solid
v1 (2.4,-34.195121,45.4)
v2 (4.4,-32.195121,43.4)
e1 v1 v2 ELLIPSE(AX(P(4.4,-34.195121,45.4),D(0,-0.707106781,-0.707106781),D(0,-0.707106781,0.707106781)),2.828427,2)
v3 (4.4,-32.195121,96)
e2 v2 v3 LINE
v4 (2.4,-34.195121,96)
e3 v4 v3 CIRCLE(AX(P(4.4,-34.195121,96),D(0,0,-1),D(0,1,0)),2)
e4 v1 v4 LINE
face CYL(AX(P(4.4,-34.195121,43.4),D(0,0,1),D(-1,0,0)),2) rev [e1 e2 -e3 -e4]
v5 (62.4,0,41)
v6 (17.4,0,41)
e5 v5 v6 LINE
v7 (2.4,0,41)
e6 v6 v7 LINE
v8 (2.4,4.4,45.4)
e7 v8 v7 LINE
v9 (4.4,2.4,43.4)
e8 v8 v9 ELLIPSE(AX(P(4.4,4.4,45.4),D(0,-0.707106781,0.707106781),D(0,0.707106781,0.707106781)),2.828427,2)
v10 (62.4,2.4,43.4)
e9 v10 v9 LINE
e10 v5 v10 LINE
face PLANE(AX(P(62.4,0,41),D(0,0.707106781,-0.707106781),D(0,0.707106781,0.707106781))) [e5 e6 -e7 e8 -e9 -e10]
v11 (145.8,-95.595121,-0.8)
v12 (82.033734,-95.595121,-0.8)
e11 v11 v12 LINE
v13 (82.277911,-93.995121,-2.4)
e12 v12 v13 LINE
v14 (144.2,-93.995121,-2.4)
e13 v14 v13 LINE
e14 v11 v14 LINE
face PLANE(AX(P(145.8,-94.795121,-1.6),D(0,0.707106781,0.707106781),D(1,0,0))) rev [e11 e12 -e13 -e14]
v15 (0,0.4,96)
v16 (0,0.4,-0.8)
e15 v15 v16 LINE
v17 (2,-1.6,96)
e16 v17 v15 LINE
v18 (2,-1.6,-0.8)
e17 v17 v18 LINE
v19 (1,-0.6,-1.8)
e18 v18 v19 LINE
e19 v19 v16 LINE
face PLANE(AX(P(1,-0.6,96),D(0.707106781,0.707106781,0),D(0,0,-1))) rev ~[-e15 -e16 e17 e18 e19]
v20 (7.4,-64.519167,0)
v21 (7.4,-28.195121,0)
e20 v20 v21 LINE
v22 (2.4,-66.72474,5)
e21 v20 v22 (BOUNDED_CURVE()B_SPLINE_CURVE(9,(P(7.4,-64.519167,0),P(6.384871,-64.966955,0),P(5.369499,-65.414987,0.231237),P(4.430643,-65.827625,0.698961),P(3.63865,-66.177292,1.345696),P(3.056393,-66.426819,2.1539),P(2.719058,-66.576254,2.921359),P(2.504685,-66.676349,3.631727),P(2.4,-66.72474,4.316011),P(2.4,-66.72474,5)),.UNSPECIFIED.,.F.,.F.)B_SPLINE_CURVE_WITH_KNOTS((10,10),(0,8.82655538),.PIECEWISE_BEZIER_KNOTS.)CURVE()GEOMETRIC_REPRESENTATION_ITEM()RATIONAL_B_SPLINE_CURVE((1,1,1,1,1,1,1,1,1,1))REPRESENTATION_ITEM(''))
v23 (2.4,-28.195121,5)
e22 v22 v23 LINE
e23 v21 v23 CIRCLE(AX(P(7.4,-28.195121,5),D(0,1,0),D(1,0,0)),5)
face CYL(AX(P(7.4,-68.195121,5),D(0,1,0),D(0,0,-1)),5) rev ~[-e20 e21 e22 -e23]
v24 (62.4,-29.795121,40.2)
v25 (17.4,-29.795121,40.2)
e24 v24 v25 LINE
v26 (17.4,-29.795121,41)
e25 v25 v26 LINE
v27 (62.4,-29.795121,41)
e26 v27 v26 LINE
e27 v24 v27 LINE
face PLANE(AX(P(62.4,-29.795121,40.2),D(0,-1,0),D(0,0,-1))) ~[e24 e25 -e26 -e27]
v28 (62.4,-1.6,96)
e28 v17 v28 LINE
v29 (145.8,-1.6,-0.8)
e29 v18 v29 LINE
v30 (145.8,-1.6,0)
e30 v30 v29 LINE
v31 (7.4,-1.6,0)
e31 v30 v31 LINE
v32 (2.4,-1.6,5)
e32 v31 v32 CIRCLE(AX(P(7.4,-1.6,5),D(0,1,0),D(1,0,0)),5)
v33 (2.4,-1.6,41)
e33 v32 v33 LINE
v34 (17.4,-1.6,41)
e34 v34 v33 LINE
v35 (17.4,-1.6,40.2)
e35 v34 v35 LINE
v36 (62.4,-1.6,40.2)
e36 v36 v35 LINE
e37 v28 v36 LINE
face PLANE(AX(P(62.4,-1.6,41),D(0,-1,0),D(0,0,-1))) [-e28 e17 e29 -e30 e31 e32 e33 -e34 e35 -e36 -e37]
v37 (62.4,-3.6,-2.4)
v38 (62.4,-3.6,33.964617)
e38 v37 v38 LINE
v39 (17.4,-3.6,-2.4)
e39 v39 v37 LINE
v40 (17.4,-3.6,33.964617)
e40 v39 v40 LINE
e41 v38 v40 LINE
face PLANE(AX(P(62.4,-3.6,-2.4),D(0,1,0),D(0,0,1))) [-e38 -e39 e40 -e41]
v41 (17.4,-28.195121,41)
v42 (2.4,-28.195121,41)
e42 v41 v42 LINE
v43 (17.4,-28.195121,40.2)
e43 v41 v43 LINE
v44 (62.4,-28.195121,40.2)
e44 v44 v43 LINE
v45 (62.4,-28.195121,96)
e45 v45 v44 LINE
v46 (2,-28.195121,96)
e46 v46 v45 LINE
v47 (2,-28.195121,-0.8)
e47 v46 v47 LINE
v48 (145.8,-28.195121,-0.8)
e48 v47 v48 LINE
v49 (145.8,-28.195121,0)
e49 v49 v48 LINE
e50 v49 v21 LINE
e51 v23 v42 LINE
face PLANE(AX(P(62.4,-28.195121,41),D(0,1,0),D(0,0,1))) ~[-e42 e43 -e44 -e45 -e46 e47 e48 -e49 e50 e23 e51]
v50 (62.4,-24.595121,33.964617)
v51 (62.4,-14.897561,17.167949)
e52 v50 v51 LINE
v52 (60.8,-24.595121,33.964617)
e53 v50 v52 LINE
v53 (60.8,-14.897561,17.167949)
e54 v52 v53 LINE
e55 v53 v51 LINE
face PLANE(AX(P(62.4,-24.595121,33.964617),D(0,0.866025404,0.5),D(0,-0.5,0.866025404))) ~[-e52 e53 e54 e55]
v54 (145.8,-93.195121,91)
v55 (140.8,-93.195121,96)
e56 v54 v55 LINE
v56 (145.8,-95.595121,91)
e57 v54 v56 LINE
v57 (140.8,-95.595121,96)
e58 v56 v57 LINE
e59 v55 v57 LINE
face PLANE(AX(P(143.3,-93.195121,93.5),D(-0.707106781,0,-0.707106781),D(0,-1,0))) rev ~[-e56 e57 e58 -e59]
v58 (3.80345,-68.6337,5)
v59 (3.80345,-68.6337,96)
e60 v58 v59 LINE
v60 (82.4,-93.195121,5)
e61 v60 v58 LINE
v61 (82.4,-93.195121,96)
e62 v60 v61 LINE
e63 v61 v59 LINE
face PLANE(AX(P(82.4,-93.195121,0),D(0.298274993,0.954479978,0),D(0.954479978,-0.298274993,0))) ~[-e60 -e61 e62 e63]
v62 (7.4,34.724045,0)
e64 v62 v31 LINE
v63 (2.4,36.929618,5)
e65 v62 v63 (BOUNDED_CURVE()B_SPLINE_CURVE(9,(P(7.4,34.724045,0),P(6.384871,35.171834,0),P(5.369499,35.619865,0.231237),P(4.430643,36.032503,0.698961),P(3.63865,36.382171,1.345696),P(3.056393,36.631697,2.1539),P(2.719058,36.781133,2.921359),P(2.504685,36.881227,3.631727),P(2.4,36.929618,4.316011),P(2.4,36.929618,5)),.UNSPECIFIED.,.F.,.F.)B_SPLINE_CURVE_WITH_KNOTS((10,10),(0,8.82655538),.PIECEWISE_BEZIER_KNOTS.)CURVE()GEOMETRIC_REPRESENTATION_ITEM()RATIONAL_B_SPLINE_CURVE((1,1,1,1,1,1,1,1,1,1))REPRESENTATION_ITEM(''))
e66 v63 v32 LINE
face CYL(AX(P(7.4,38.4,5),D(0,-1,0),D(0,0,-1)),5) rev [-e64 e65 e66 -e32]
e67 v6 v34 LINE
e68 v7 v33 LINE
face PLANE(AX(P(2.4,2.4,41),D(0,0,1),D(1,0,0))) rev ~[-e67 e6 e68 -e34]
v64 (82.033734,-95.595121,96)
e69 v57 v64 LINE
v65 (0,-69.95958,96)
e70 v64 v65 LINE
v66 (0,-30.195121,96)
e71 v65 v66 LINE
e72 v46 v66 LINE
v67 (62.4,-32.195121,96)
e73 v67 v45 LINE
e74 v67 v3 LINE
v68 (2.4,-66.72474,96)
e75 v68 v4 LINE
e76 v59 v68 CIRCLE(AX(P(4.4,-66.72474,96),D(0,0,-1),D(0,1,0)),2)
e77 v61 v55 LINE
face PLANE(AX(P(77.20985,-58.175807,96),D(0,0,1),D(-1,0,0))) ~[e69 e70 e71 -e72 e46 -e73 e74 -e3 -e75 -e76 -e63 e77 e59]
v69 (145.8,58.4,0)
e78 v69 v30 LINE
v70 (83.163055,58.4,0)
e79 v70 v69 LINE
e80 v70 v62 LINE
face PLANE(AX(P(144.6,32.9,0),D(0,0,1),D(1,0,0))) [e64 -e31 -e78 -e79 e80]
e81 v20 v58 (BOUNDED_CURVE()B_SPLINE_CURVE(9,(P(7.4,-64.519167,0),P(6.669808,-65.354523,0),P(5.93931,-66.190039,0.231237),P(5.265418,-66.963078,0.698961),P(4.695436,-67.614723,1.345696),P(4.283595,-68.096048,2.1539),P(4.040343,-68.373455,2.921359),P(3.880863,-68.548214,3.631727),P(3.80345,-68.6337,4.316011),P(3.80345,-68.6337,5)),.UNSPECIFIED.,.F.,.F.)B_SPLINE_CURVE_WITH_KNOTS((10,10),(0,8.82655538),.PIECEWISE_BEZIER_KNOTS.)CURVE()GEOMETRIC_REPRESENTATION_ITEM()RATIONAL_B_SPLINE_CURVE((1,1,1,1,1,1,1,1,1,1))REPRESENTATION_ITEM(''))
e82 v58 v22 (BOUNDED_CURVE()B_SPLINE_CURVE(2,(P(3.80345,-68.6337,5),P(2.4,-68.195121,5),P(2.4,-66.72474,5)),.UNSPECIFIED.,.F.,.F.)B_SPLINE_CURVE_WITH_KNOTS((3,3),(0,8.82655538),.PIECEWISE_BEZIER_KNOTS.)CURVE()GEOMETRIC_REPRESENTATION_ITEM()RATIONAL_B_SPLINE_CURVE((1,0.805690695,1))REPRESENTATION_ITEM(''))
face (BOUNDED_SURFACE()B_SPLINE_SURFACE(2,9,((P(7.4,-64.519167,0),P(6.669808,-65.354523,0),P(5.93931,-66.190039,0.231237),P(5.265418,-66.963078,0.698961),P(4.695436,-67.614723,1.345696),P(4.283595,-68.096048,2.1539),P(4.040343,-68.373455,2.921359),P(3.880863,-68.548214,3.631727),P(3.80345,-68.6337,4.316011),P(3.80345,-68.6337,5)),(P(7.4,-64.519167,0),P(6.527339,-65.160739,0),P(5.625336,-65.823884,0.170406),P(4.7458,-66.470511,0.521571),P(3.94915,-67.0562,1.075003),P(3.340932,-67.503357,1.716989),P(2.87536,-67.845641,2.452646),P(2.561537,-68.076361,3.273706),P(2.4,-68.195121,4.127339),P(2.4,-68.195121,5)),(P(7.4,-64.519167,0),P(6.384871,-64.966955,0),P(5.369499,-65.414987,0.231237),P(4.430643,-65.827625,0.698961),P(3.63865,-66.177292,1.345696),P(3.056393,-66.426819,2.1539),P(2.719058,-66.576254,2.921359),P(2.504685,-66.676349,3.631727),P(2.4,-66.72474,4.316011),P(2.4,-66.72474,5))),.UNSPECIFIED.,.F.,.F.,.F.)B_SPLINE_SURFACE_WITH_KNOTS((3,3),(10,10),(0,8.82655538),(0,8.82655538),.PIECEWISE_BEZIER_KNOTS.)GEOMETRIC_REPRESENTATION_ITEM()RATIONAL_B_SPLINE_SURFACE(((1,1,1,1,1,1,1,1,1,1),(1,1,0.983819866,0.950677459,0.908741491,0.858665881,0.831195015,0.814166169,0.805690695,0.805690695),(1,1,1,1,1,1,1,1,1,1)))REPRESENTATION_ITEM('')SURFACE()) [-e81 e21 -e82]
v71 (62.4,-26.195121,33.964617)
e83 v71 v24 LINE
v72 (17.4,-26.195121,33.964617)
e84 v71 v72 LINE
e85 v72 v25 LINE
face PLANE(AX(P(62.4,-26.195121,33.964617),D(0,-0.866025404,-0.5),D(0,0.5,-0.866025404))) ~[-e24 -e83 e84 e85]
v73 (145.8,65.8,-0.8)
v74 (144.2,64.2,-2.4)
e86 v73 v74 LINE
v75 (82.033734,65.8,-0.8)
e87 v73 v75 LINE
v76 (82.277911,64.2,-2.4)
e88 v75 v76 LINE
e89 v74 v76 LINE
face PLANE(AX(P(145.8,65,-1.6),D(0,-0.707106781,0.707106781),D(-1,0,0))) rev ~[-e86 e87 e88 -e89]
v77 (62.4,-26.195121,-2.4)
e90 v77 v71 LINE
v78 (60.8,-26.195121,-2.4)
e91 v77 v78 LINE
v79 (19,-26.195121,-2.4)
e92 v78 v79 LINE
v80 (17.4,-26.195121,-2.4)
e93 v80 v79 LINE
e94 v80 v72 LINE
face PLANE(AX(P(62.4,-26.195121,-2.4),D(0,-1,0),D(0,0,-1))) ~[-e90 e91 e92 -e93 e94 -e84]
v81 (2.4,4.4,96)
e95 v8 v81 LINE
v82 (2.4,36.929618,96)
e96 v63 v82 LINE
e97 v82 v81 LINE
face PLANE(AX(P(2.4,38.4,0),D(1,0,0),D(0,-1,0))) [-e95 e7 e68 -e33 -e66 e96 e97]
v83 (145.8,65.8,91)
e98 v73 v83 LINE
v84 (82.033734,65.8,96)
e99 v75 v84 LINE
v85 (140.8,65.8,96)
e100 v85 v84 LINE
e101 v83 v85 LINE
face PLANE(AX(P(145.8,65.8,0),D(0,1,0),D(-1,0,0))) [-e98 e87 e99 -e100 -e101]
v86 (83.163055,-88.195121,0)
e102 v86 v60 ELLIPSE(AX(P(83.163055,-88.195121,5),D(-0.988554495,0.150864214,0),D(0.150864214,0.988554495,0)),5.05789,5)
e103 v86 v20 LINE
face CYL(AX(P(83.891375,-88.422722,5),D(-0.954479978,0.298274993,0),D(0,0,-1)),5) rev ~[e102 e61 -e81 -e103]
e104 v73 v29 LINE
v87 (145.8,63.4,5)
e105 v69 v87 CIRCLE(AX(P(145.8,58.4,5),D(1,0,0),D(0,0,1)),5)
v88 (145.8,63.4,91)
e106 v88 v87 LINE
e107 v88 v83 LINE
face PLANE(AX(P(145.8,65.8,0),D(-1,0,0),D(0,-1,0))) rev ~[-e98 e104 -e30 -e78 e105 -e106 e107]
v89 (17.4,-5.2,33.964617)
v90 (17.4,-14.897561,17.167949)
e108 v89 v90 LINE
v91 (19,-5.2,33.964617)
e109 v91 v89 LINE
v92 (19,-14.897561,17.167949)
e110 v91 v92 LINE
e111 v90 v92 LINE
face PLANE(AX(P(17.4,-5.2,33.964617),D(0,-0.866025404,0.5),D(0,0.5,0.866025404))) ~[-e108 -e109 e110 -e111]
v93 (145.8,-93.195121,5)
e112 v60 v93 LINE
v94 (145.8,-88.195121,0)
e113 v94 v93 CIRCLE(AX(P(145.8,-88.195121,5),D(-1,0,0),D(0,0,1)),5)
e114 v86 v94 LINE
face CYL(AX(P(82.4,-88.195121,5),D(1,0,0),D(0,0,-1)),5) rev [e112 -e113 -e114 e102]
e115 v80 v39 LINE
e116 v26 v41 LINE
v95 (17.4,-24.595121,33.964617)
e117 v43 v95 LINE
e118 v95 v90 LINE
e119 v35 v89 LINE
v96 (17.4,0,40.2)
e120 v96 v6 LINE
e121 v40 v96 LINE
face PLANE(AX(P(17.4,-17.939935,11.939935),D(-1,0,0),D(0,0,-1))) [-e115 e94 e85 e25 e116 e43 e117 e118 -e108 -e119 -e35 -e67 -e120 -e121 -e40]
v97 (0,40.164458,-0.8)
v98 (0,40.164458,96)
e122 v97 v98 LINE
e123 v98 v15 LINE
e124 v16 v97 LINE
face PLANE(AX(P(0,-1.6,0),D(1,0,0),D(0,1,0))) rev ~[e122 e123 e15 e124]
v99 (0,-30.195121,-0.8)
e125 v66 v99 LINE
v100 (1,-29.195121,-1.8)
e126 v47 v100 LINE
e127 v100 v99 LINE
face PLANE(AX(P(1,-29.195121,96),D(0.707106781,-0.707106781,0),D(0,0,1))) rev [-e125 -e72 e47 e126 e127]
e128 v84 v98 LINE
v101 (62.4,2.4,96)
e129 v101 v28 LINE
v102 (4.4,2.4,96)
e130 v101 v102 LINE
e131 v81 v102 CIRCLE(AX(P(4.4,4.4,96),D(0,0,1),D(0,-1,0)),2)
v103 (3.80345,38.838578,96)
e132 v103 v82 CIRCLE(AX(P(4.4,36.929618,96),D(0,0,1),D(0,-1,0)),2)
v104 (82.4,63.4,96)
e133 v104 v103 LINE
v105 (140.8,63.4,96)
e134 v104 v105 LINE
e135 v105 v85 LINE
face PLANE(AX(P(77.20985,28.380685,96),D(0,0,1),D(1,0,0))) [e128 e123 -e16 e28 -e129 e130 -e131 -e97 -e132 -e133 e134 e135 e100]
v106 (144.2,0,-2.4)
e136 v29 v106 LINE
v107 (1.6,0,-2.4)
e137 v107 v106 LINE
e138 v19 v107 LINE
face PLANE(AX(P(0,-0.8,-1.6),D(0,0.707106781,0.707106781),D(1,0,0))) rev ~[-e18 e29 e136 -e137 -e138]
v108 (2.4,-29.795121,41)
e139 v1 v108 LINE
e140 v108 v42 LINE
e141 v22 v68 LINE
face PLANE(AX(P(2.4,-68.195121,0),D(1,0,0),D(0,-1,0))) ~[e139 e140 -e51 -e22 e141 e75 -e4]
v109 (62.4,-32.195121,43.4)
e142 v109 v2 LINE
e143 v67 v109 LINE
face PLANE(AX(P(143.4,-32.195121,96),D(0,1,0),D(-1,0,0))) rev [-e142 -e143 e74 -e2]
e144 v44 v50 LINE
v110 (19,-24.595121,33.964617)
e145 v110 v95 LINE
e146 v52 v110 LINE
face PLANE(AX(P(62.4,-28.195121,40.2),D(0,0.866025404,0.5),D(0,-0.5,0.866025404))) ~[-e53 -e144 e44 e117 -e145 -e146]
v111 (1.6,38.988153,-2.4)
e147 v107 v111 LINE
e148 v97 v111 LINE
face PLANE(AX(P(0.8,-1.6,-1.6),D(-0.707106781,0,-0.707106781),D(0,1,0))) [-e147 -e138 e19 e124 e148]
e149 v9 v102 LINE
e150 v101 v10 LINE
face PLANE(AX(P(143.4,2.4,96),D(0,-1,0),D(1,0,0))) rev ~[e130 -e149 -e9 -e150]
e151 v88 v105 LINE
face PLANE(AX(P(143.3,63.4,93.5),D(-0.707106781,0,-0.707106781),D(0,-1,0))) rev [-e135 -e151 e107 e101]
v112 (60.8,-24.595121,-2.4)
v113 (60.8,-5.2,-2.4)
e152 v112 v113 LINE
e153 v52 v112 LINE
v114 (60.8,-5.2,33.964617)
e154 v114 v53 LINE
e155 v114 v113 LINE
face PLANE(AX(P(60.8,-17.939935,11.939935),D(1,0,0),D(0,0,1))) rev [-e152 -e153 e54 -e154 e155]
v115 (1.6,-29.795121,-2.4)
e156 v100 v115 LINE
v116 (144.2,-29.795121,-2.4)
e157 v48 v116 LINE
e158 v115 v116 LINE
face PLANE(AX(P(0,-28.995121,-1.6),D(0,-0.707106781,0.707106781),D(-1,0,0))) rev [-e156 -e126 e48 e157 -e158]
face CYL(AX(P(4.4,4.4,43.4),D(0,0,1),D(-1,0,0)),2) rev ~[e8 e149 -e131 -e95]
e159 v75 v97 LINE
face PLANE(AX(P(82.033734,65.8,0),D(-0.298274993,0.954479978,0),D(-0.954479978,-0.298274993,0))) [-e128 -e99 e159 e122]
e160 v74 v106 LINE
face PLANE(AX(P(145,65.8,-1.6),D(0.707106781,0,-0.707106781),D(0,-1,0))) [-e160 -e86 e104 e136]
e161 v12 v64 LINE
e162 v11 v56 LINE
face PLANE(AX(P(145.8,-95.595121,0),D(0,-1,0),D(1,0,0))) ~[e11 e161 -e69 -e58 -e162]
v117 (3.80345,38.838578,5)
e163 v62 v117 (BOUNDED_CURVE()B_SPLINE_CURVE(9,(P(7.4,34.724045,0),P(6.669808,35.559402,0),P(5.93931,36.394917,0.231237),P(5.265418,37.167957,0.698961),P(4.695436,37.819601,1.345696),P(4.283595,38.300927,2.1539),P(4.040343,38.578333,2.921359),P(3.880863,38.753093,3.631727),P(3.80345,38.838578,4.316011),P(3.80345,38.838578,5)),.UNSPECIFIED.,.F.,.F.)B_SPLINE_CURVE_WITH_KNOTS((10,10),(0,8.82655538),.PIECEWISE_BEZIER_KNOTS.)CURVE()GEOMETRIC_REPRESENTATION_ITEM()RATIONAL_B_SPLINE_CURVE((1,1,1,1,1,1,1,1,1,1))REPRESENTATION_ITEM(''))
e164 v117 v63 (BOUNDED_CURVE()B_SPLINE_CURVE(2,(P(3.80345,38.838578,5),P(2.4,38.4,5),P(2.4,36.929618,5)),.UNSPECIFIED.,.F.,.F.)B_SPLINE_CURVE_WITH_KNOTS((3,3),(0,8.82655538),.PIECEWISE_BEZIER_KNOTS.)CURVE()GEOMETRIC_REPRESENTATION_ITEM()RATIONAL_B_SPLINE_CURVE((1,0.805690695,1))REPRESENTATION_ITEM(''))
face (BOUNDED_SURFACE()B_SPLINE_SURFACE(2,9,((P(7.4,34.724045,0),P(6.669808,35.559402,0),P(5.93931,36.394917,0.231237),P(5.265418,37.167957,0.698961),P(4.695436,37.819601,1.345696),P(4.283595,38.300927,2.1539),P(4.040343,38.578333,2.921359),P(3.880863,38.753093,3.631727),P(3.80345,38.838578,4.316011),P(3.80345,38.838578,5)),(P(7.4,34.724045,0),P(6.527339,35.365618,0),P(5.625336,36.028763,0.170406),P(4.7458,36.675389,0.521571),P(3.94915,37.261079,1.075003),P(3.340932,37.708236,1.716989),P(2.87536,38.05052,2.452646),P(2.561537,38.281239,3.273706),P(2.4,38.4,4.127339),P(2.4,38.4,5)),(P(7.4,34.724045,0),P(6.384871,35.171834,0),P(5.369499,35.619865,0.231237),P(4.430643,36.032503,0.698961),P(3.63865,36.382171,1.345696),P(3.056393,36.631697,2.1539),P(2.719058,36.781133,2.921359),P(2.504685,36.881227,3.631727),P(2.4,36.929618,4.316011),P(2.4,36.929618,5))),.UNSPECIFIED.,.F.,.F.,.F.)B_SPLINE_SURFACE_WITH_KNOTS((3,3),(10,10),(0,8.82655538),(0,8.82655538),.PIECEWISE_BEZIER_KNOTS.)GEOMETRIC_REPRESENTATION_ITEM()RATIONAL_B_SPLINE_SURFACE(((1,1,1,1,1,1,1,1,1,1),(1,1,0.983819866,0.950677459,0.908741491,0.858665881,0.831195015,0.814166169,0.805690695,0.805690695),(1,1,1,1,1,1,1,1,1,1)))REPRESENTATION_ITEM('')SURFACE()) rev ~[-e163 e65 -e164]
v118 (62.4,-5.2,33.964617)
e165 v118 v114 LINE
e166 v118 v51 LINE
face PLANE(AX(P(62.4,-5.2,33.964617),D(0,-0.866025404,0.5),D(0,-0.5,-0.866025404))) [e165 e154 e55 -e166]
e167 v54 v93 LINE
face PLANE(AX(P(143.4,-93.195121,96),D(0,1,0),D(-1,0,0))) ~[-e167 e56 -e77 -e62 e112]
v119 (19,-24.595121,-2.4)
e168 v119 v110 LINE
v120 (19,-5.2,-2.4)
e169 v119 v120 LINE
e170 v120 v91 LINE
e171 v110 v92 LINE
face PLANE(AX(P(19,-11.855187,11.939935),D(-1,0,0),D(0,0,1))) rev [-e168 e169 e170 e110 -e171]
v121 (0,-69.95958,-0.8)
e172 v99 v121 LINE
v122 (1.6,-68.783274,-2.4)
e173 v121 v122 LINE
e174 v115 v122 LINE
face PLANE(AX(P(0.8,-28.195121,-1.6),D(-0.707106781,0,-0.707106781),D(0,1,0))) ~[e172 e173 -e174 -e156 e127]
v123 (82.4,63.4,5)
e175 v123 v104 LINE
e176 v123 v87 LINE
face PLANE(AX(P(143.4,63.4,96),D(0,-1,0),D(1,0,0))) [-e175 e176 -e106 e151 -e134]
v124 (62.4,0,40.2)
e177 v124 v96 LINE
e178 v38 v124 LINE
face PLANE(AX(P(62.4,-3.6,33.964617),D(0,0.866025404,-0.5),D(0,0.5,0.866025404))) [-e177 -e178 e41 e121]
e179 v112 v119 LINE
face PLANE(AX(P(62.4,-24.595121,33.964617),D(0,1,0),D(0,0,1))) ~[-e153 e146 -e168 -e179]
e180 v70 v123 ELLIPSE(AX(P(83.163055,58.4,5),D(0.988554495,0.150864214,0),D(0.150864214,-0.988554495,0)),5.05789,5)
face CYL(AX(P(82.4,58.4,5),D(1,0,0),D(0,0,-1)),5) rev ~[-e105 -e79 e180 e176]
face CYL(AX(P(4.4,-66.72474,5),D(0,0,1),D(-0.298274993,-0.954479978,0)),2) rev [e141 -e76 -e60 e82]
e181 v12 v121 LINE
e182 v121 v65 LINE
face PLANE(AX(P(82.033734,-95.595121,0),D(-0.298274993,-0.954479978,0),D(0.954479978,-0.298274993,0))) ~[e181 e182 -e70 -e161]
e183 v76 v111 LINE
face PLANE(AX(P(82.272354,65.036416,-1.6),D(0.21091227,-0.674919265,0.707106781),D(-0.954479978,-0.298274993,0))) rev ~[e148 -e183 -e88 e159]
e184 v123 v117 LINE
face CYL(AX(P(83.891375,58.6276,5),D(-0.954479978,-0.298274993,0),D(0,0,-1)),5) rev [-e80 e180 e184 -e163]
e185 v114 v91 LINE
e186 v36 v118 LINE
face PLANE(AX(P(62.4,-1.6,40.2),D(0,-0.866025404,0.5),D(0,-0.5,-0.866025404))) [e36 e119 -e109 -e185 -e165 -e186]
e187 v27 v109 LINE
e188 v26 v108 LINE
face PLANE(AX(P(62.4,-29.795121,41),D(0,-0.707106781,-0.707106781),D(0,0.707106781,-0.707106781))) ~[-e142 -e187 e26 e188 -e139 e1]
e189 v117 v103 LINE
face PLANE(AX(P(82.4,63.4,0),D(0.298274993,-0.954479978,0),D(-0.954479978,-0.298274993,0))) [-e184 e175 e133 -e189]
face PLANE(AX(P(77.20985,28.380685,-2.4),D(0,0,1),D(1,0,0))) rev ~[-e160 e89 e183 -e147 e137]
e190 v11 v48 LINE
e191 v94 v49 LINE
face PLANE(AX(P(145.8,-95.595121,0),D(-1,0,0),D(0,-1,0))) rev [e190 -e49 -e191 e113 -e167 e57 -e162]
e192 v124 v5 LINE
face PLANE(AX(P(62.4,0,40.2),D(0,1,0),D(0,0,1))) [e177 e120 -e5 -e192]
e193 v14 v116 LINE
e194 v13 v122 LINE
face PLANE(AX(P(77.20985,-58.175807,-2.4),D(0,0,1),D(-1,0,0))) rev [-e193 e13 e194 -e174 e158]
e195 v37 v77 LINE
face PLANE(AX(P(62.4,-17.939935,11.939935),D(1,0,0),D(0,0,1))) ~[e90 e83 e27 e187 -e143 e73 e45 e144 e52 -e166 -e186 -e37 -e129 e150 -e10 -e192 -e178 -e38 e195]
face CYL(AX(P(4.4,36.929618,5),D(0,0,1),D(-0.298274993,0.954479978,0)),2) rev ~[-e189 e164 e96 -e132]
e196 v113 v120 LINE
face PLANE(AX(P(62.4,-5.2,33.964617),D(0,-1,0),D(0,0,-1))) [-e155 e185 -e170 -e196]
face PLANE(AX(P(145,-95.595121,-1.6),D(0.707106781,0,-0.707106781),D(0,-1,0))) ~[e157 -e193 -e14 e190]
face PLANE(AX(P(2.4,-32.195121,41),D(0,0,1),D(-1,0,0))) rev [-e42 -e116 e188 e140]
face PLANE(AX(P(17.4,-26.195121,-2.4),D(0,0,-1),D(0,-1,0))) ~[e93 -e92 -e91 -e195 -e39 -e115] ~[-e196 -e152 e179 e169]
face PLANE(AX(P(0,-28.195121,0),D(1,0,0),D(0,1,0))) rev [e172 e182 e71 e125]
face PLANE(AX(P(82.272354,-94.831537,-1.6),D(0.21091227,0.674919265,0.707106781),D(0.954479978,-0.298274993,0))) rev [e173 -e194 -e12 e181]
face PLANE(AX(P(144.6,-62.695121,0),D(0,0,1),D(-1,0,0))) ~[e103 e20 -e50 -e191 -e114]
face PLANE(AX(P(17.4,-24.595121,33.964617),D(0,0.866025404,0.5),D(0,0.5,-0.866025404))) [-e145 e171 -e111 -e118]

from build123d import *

# Parameters (mm, degrees)
BOSS_EXTRUDE1_DEPTH = 96
BOSS_EXTRUDE2_DEPTH = 2.4
SKETCH3_W           = 2.4
SKETCH3_H           = 61
CUT_EXTRUDE1_DEPTH  = 96
SKETCH4_W           = 143.4
SKETCH4_H           = 41
CUT_EXTRUDE2_DEPTH  = 5
SKETCH9_W           = 83.4
SKETCH9_H           = 55
CUT_EXTRUDE4_DEPTH  = 5
CUT_EXTRUDE3_DEPTH  = 60
BOSS_EXTRUDE3_DEPTH = 45
BOSS_EXTRUDE4_DEPTH = 1.6
CHAMFER1_SIZE       = 5
FILLET1_R           = 2
FILLET3_R           = 5
FILLET4_R           = 2
CHAMFER2_SIZE       = 1.6
CHAMFER3_SIZE       = 2


with BuildPart() as part:
    # Sketch1 → Boss-Extrude1 (new body)
    with BuildSketch(Plane.XY):
        Polygon((145.8, 0), (145.8, 65.8), (82.033733785, 65.8), (0, 40.164458192), (0, 0), (0, -1.6), (145.8, -1.6), align=None)
        Polygon((2.4, 38.4), (2.4, 2.4), (143.4, 2.4), (143.4, 63.4), (82.4, 63.4), align=None, mode=Mode.SUBTRACT)
    extrude(amount=BOSS_EXTRUDE1_DEPTH)

    # Sketch2 → Boss-Extrude2 (add)
    with BuildSketch(Plane(origin=(0, 0, 0), x_dir=(-1, 0, 0), z_dir=(0, 0, -1))):
        Polygon((-145.8, 0), (-145.8, 65.8), (-82.033733785, 65.8), (0, 40.164458192), (0, 0), (0, -1.6), (-145.8, -1.6), align=None)
    extrude(amount=BOSS_EXTRUDE2_DEPTH)

    # Sketch3 → Cut-Extrude1 (cut)
    with BuildSketch(Plane.XY.offset(96)):
        with Locations((144.6, 32.9)):
            Rectangle(SKETCH3_W, SKETCH3_H)
    extrude(amount=-CUT_EXTRUDE1_DEPTH, mode=Mode.SUBTRACT)

    # Sketch4 → Cut-Extrude2 (cut, through all)
    with BuildSketch(Plane(origin=(0, 2.4, 0), x_dir=(1, 0, 0), z_dir=(0, 1, 0))):
        with Locations((74.1, -20.5)):
            Rectangle(SKETCH4_W, SKETCH4_H)
    extrude(amount=-CUT_EXTRUDE2_DEPTH, mode=Mode.SUBTRACT)

    # Sketch9 → Cut-Extrude4 (cut, through all)
    with BuildSketch(Plane(origin=(0, 2.4, 0), x_dir=(1, 0, 0), z_dir=(0, 1, 0))):
        with Locations((104.1, -68.5)):
            Rectangle(SKETCH9_W, SKETCH9_H)
    extrude(amount=-CUT_EXTRUDE4_DEPTH, mode=Mode.SUBTRACT)

    # Sketch5 → Cut-Extrude3 (cut)
    with BuildSketch(Plane(origin=(62.4, 0, 0), x_dir=(0, 0, -1), z_dir=(1, 0, 0))):
        Polygon((-41, 0), (-43.4, 2.4), (-41, 2.4), align=None)
    extrude(amount=-CUT_EXTRUDE3_DEPTH, mode=Mode.SUBTRACT)

    # Sketch6 → Boss-Extrude3 (add)
    with BuildSketch(Plane(origin=(62.4, 0, 0), x_dir=(0, 0, -1), z_dir=(1, 0, 0))):
        Polygon((-40.2, 0), (-41, 0), (-41, -1.6), (-40.2, -1.6), (-33.964617093, -5.2), (2.4, -5.2), (2.4, -3.6), (-33.964617093, -3.6), align=None)
    extrude(amount=-BOSS_EXTRUDE3_DEPTH)

    # Sketch8 → Boss-Extrude4 (add)
    with BuildSketch(Plane(origin=(62.4, 0, 0), x_dir=(0, 0, -1), z_dir=(1, 0, 0))):
        Polygon((-33.964617093, -5.2), (2.4, -26.195121467), (2.4, -5.2), align=None)
    boss_extrude4 = extrude(amount=-BOSS_EXTRUDE4_DEPTH)

    # Mirror1: Boss-Extrude4 across plane
    add(boss_extrude4.mirror(Plane(origin=(39.9, 0, 0), x_dir=(0, 0, 1), z_dir=(1, 0, 0))))

    # Chamfer1
    chamfer1_edges = [part.edges().sort_by_distance(p)[0] for p in [
        (145.8, 64.6, 96),
    ]]
    chamfer(chamfer1_edges, length=CHAMFER1_SIZE)

    # Fillet1
    fillet1_edges = [part.edges().sort_by_distance(p)[0] for p in [
        (2.4, 2.4, 69.7),
    ]]
    fillet(fillet1_edges, radius=FILLET1_R)

    # Fillet3
    fillet3_edges = [part.edges().sort_by_distance(p)[0] for p in [
        (42.4, 50.9, 0),
        (2.4, 18.4, 0),
        (114.1, 63.4, 0),
    ]]
    fillet(fillet3_edges, radius=FILLET3_R)

    # Fillet4
    fillet4_edges = [part.edges().sort_by_distance(p)[0] for p in [
        (2.4, 38.4, 50.5),
    ]]
    fillet(fillet4_edges, radius=FILLET4_R)

    # Chamfer2
    chamfer2_edges = [part.edges().sort_by_distance(p)[0] for p in [
        (145.8, 32.1, -2.4),
        (72.9, -1.6, -2.4),
        (0, 19.282229096, -2.4),
        (41.016866893, 52.982229096, -2.4),
        (113.916866893, 65.8, -2.4),
    ]]
    chamfer(chamfer2_edges, length=CHAMFER2_SIZE)

    # Chamfer3
    chamfer3_edges = [part.edges().sort_by_distance(p)[0] for p in [
        (0, -1.6, 47.6),
    ]]
    chamfer(chamfer3_edges, length=CHAMFER3_SIZE)

    # Mirror2: part across plane


with BuildPart() as part_1:
    add(part.part)
    add(part.part.mirror(Plane.ZX.offset(-14.897560734)))


solid = part_1.part
